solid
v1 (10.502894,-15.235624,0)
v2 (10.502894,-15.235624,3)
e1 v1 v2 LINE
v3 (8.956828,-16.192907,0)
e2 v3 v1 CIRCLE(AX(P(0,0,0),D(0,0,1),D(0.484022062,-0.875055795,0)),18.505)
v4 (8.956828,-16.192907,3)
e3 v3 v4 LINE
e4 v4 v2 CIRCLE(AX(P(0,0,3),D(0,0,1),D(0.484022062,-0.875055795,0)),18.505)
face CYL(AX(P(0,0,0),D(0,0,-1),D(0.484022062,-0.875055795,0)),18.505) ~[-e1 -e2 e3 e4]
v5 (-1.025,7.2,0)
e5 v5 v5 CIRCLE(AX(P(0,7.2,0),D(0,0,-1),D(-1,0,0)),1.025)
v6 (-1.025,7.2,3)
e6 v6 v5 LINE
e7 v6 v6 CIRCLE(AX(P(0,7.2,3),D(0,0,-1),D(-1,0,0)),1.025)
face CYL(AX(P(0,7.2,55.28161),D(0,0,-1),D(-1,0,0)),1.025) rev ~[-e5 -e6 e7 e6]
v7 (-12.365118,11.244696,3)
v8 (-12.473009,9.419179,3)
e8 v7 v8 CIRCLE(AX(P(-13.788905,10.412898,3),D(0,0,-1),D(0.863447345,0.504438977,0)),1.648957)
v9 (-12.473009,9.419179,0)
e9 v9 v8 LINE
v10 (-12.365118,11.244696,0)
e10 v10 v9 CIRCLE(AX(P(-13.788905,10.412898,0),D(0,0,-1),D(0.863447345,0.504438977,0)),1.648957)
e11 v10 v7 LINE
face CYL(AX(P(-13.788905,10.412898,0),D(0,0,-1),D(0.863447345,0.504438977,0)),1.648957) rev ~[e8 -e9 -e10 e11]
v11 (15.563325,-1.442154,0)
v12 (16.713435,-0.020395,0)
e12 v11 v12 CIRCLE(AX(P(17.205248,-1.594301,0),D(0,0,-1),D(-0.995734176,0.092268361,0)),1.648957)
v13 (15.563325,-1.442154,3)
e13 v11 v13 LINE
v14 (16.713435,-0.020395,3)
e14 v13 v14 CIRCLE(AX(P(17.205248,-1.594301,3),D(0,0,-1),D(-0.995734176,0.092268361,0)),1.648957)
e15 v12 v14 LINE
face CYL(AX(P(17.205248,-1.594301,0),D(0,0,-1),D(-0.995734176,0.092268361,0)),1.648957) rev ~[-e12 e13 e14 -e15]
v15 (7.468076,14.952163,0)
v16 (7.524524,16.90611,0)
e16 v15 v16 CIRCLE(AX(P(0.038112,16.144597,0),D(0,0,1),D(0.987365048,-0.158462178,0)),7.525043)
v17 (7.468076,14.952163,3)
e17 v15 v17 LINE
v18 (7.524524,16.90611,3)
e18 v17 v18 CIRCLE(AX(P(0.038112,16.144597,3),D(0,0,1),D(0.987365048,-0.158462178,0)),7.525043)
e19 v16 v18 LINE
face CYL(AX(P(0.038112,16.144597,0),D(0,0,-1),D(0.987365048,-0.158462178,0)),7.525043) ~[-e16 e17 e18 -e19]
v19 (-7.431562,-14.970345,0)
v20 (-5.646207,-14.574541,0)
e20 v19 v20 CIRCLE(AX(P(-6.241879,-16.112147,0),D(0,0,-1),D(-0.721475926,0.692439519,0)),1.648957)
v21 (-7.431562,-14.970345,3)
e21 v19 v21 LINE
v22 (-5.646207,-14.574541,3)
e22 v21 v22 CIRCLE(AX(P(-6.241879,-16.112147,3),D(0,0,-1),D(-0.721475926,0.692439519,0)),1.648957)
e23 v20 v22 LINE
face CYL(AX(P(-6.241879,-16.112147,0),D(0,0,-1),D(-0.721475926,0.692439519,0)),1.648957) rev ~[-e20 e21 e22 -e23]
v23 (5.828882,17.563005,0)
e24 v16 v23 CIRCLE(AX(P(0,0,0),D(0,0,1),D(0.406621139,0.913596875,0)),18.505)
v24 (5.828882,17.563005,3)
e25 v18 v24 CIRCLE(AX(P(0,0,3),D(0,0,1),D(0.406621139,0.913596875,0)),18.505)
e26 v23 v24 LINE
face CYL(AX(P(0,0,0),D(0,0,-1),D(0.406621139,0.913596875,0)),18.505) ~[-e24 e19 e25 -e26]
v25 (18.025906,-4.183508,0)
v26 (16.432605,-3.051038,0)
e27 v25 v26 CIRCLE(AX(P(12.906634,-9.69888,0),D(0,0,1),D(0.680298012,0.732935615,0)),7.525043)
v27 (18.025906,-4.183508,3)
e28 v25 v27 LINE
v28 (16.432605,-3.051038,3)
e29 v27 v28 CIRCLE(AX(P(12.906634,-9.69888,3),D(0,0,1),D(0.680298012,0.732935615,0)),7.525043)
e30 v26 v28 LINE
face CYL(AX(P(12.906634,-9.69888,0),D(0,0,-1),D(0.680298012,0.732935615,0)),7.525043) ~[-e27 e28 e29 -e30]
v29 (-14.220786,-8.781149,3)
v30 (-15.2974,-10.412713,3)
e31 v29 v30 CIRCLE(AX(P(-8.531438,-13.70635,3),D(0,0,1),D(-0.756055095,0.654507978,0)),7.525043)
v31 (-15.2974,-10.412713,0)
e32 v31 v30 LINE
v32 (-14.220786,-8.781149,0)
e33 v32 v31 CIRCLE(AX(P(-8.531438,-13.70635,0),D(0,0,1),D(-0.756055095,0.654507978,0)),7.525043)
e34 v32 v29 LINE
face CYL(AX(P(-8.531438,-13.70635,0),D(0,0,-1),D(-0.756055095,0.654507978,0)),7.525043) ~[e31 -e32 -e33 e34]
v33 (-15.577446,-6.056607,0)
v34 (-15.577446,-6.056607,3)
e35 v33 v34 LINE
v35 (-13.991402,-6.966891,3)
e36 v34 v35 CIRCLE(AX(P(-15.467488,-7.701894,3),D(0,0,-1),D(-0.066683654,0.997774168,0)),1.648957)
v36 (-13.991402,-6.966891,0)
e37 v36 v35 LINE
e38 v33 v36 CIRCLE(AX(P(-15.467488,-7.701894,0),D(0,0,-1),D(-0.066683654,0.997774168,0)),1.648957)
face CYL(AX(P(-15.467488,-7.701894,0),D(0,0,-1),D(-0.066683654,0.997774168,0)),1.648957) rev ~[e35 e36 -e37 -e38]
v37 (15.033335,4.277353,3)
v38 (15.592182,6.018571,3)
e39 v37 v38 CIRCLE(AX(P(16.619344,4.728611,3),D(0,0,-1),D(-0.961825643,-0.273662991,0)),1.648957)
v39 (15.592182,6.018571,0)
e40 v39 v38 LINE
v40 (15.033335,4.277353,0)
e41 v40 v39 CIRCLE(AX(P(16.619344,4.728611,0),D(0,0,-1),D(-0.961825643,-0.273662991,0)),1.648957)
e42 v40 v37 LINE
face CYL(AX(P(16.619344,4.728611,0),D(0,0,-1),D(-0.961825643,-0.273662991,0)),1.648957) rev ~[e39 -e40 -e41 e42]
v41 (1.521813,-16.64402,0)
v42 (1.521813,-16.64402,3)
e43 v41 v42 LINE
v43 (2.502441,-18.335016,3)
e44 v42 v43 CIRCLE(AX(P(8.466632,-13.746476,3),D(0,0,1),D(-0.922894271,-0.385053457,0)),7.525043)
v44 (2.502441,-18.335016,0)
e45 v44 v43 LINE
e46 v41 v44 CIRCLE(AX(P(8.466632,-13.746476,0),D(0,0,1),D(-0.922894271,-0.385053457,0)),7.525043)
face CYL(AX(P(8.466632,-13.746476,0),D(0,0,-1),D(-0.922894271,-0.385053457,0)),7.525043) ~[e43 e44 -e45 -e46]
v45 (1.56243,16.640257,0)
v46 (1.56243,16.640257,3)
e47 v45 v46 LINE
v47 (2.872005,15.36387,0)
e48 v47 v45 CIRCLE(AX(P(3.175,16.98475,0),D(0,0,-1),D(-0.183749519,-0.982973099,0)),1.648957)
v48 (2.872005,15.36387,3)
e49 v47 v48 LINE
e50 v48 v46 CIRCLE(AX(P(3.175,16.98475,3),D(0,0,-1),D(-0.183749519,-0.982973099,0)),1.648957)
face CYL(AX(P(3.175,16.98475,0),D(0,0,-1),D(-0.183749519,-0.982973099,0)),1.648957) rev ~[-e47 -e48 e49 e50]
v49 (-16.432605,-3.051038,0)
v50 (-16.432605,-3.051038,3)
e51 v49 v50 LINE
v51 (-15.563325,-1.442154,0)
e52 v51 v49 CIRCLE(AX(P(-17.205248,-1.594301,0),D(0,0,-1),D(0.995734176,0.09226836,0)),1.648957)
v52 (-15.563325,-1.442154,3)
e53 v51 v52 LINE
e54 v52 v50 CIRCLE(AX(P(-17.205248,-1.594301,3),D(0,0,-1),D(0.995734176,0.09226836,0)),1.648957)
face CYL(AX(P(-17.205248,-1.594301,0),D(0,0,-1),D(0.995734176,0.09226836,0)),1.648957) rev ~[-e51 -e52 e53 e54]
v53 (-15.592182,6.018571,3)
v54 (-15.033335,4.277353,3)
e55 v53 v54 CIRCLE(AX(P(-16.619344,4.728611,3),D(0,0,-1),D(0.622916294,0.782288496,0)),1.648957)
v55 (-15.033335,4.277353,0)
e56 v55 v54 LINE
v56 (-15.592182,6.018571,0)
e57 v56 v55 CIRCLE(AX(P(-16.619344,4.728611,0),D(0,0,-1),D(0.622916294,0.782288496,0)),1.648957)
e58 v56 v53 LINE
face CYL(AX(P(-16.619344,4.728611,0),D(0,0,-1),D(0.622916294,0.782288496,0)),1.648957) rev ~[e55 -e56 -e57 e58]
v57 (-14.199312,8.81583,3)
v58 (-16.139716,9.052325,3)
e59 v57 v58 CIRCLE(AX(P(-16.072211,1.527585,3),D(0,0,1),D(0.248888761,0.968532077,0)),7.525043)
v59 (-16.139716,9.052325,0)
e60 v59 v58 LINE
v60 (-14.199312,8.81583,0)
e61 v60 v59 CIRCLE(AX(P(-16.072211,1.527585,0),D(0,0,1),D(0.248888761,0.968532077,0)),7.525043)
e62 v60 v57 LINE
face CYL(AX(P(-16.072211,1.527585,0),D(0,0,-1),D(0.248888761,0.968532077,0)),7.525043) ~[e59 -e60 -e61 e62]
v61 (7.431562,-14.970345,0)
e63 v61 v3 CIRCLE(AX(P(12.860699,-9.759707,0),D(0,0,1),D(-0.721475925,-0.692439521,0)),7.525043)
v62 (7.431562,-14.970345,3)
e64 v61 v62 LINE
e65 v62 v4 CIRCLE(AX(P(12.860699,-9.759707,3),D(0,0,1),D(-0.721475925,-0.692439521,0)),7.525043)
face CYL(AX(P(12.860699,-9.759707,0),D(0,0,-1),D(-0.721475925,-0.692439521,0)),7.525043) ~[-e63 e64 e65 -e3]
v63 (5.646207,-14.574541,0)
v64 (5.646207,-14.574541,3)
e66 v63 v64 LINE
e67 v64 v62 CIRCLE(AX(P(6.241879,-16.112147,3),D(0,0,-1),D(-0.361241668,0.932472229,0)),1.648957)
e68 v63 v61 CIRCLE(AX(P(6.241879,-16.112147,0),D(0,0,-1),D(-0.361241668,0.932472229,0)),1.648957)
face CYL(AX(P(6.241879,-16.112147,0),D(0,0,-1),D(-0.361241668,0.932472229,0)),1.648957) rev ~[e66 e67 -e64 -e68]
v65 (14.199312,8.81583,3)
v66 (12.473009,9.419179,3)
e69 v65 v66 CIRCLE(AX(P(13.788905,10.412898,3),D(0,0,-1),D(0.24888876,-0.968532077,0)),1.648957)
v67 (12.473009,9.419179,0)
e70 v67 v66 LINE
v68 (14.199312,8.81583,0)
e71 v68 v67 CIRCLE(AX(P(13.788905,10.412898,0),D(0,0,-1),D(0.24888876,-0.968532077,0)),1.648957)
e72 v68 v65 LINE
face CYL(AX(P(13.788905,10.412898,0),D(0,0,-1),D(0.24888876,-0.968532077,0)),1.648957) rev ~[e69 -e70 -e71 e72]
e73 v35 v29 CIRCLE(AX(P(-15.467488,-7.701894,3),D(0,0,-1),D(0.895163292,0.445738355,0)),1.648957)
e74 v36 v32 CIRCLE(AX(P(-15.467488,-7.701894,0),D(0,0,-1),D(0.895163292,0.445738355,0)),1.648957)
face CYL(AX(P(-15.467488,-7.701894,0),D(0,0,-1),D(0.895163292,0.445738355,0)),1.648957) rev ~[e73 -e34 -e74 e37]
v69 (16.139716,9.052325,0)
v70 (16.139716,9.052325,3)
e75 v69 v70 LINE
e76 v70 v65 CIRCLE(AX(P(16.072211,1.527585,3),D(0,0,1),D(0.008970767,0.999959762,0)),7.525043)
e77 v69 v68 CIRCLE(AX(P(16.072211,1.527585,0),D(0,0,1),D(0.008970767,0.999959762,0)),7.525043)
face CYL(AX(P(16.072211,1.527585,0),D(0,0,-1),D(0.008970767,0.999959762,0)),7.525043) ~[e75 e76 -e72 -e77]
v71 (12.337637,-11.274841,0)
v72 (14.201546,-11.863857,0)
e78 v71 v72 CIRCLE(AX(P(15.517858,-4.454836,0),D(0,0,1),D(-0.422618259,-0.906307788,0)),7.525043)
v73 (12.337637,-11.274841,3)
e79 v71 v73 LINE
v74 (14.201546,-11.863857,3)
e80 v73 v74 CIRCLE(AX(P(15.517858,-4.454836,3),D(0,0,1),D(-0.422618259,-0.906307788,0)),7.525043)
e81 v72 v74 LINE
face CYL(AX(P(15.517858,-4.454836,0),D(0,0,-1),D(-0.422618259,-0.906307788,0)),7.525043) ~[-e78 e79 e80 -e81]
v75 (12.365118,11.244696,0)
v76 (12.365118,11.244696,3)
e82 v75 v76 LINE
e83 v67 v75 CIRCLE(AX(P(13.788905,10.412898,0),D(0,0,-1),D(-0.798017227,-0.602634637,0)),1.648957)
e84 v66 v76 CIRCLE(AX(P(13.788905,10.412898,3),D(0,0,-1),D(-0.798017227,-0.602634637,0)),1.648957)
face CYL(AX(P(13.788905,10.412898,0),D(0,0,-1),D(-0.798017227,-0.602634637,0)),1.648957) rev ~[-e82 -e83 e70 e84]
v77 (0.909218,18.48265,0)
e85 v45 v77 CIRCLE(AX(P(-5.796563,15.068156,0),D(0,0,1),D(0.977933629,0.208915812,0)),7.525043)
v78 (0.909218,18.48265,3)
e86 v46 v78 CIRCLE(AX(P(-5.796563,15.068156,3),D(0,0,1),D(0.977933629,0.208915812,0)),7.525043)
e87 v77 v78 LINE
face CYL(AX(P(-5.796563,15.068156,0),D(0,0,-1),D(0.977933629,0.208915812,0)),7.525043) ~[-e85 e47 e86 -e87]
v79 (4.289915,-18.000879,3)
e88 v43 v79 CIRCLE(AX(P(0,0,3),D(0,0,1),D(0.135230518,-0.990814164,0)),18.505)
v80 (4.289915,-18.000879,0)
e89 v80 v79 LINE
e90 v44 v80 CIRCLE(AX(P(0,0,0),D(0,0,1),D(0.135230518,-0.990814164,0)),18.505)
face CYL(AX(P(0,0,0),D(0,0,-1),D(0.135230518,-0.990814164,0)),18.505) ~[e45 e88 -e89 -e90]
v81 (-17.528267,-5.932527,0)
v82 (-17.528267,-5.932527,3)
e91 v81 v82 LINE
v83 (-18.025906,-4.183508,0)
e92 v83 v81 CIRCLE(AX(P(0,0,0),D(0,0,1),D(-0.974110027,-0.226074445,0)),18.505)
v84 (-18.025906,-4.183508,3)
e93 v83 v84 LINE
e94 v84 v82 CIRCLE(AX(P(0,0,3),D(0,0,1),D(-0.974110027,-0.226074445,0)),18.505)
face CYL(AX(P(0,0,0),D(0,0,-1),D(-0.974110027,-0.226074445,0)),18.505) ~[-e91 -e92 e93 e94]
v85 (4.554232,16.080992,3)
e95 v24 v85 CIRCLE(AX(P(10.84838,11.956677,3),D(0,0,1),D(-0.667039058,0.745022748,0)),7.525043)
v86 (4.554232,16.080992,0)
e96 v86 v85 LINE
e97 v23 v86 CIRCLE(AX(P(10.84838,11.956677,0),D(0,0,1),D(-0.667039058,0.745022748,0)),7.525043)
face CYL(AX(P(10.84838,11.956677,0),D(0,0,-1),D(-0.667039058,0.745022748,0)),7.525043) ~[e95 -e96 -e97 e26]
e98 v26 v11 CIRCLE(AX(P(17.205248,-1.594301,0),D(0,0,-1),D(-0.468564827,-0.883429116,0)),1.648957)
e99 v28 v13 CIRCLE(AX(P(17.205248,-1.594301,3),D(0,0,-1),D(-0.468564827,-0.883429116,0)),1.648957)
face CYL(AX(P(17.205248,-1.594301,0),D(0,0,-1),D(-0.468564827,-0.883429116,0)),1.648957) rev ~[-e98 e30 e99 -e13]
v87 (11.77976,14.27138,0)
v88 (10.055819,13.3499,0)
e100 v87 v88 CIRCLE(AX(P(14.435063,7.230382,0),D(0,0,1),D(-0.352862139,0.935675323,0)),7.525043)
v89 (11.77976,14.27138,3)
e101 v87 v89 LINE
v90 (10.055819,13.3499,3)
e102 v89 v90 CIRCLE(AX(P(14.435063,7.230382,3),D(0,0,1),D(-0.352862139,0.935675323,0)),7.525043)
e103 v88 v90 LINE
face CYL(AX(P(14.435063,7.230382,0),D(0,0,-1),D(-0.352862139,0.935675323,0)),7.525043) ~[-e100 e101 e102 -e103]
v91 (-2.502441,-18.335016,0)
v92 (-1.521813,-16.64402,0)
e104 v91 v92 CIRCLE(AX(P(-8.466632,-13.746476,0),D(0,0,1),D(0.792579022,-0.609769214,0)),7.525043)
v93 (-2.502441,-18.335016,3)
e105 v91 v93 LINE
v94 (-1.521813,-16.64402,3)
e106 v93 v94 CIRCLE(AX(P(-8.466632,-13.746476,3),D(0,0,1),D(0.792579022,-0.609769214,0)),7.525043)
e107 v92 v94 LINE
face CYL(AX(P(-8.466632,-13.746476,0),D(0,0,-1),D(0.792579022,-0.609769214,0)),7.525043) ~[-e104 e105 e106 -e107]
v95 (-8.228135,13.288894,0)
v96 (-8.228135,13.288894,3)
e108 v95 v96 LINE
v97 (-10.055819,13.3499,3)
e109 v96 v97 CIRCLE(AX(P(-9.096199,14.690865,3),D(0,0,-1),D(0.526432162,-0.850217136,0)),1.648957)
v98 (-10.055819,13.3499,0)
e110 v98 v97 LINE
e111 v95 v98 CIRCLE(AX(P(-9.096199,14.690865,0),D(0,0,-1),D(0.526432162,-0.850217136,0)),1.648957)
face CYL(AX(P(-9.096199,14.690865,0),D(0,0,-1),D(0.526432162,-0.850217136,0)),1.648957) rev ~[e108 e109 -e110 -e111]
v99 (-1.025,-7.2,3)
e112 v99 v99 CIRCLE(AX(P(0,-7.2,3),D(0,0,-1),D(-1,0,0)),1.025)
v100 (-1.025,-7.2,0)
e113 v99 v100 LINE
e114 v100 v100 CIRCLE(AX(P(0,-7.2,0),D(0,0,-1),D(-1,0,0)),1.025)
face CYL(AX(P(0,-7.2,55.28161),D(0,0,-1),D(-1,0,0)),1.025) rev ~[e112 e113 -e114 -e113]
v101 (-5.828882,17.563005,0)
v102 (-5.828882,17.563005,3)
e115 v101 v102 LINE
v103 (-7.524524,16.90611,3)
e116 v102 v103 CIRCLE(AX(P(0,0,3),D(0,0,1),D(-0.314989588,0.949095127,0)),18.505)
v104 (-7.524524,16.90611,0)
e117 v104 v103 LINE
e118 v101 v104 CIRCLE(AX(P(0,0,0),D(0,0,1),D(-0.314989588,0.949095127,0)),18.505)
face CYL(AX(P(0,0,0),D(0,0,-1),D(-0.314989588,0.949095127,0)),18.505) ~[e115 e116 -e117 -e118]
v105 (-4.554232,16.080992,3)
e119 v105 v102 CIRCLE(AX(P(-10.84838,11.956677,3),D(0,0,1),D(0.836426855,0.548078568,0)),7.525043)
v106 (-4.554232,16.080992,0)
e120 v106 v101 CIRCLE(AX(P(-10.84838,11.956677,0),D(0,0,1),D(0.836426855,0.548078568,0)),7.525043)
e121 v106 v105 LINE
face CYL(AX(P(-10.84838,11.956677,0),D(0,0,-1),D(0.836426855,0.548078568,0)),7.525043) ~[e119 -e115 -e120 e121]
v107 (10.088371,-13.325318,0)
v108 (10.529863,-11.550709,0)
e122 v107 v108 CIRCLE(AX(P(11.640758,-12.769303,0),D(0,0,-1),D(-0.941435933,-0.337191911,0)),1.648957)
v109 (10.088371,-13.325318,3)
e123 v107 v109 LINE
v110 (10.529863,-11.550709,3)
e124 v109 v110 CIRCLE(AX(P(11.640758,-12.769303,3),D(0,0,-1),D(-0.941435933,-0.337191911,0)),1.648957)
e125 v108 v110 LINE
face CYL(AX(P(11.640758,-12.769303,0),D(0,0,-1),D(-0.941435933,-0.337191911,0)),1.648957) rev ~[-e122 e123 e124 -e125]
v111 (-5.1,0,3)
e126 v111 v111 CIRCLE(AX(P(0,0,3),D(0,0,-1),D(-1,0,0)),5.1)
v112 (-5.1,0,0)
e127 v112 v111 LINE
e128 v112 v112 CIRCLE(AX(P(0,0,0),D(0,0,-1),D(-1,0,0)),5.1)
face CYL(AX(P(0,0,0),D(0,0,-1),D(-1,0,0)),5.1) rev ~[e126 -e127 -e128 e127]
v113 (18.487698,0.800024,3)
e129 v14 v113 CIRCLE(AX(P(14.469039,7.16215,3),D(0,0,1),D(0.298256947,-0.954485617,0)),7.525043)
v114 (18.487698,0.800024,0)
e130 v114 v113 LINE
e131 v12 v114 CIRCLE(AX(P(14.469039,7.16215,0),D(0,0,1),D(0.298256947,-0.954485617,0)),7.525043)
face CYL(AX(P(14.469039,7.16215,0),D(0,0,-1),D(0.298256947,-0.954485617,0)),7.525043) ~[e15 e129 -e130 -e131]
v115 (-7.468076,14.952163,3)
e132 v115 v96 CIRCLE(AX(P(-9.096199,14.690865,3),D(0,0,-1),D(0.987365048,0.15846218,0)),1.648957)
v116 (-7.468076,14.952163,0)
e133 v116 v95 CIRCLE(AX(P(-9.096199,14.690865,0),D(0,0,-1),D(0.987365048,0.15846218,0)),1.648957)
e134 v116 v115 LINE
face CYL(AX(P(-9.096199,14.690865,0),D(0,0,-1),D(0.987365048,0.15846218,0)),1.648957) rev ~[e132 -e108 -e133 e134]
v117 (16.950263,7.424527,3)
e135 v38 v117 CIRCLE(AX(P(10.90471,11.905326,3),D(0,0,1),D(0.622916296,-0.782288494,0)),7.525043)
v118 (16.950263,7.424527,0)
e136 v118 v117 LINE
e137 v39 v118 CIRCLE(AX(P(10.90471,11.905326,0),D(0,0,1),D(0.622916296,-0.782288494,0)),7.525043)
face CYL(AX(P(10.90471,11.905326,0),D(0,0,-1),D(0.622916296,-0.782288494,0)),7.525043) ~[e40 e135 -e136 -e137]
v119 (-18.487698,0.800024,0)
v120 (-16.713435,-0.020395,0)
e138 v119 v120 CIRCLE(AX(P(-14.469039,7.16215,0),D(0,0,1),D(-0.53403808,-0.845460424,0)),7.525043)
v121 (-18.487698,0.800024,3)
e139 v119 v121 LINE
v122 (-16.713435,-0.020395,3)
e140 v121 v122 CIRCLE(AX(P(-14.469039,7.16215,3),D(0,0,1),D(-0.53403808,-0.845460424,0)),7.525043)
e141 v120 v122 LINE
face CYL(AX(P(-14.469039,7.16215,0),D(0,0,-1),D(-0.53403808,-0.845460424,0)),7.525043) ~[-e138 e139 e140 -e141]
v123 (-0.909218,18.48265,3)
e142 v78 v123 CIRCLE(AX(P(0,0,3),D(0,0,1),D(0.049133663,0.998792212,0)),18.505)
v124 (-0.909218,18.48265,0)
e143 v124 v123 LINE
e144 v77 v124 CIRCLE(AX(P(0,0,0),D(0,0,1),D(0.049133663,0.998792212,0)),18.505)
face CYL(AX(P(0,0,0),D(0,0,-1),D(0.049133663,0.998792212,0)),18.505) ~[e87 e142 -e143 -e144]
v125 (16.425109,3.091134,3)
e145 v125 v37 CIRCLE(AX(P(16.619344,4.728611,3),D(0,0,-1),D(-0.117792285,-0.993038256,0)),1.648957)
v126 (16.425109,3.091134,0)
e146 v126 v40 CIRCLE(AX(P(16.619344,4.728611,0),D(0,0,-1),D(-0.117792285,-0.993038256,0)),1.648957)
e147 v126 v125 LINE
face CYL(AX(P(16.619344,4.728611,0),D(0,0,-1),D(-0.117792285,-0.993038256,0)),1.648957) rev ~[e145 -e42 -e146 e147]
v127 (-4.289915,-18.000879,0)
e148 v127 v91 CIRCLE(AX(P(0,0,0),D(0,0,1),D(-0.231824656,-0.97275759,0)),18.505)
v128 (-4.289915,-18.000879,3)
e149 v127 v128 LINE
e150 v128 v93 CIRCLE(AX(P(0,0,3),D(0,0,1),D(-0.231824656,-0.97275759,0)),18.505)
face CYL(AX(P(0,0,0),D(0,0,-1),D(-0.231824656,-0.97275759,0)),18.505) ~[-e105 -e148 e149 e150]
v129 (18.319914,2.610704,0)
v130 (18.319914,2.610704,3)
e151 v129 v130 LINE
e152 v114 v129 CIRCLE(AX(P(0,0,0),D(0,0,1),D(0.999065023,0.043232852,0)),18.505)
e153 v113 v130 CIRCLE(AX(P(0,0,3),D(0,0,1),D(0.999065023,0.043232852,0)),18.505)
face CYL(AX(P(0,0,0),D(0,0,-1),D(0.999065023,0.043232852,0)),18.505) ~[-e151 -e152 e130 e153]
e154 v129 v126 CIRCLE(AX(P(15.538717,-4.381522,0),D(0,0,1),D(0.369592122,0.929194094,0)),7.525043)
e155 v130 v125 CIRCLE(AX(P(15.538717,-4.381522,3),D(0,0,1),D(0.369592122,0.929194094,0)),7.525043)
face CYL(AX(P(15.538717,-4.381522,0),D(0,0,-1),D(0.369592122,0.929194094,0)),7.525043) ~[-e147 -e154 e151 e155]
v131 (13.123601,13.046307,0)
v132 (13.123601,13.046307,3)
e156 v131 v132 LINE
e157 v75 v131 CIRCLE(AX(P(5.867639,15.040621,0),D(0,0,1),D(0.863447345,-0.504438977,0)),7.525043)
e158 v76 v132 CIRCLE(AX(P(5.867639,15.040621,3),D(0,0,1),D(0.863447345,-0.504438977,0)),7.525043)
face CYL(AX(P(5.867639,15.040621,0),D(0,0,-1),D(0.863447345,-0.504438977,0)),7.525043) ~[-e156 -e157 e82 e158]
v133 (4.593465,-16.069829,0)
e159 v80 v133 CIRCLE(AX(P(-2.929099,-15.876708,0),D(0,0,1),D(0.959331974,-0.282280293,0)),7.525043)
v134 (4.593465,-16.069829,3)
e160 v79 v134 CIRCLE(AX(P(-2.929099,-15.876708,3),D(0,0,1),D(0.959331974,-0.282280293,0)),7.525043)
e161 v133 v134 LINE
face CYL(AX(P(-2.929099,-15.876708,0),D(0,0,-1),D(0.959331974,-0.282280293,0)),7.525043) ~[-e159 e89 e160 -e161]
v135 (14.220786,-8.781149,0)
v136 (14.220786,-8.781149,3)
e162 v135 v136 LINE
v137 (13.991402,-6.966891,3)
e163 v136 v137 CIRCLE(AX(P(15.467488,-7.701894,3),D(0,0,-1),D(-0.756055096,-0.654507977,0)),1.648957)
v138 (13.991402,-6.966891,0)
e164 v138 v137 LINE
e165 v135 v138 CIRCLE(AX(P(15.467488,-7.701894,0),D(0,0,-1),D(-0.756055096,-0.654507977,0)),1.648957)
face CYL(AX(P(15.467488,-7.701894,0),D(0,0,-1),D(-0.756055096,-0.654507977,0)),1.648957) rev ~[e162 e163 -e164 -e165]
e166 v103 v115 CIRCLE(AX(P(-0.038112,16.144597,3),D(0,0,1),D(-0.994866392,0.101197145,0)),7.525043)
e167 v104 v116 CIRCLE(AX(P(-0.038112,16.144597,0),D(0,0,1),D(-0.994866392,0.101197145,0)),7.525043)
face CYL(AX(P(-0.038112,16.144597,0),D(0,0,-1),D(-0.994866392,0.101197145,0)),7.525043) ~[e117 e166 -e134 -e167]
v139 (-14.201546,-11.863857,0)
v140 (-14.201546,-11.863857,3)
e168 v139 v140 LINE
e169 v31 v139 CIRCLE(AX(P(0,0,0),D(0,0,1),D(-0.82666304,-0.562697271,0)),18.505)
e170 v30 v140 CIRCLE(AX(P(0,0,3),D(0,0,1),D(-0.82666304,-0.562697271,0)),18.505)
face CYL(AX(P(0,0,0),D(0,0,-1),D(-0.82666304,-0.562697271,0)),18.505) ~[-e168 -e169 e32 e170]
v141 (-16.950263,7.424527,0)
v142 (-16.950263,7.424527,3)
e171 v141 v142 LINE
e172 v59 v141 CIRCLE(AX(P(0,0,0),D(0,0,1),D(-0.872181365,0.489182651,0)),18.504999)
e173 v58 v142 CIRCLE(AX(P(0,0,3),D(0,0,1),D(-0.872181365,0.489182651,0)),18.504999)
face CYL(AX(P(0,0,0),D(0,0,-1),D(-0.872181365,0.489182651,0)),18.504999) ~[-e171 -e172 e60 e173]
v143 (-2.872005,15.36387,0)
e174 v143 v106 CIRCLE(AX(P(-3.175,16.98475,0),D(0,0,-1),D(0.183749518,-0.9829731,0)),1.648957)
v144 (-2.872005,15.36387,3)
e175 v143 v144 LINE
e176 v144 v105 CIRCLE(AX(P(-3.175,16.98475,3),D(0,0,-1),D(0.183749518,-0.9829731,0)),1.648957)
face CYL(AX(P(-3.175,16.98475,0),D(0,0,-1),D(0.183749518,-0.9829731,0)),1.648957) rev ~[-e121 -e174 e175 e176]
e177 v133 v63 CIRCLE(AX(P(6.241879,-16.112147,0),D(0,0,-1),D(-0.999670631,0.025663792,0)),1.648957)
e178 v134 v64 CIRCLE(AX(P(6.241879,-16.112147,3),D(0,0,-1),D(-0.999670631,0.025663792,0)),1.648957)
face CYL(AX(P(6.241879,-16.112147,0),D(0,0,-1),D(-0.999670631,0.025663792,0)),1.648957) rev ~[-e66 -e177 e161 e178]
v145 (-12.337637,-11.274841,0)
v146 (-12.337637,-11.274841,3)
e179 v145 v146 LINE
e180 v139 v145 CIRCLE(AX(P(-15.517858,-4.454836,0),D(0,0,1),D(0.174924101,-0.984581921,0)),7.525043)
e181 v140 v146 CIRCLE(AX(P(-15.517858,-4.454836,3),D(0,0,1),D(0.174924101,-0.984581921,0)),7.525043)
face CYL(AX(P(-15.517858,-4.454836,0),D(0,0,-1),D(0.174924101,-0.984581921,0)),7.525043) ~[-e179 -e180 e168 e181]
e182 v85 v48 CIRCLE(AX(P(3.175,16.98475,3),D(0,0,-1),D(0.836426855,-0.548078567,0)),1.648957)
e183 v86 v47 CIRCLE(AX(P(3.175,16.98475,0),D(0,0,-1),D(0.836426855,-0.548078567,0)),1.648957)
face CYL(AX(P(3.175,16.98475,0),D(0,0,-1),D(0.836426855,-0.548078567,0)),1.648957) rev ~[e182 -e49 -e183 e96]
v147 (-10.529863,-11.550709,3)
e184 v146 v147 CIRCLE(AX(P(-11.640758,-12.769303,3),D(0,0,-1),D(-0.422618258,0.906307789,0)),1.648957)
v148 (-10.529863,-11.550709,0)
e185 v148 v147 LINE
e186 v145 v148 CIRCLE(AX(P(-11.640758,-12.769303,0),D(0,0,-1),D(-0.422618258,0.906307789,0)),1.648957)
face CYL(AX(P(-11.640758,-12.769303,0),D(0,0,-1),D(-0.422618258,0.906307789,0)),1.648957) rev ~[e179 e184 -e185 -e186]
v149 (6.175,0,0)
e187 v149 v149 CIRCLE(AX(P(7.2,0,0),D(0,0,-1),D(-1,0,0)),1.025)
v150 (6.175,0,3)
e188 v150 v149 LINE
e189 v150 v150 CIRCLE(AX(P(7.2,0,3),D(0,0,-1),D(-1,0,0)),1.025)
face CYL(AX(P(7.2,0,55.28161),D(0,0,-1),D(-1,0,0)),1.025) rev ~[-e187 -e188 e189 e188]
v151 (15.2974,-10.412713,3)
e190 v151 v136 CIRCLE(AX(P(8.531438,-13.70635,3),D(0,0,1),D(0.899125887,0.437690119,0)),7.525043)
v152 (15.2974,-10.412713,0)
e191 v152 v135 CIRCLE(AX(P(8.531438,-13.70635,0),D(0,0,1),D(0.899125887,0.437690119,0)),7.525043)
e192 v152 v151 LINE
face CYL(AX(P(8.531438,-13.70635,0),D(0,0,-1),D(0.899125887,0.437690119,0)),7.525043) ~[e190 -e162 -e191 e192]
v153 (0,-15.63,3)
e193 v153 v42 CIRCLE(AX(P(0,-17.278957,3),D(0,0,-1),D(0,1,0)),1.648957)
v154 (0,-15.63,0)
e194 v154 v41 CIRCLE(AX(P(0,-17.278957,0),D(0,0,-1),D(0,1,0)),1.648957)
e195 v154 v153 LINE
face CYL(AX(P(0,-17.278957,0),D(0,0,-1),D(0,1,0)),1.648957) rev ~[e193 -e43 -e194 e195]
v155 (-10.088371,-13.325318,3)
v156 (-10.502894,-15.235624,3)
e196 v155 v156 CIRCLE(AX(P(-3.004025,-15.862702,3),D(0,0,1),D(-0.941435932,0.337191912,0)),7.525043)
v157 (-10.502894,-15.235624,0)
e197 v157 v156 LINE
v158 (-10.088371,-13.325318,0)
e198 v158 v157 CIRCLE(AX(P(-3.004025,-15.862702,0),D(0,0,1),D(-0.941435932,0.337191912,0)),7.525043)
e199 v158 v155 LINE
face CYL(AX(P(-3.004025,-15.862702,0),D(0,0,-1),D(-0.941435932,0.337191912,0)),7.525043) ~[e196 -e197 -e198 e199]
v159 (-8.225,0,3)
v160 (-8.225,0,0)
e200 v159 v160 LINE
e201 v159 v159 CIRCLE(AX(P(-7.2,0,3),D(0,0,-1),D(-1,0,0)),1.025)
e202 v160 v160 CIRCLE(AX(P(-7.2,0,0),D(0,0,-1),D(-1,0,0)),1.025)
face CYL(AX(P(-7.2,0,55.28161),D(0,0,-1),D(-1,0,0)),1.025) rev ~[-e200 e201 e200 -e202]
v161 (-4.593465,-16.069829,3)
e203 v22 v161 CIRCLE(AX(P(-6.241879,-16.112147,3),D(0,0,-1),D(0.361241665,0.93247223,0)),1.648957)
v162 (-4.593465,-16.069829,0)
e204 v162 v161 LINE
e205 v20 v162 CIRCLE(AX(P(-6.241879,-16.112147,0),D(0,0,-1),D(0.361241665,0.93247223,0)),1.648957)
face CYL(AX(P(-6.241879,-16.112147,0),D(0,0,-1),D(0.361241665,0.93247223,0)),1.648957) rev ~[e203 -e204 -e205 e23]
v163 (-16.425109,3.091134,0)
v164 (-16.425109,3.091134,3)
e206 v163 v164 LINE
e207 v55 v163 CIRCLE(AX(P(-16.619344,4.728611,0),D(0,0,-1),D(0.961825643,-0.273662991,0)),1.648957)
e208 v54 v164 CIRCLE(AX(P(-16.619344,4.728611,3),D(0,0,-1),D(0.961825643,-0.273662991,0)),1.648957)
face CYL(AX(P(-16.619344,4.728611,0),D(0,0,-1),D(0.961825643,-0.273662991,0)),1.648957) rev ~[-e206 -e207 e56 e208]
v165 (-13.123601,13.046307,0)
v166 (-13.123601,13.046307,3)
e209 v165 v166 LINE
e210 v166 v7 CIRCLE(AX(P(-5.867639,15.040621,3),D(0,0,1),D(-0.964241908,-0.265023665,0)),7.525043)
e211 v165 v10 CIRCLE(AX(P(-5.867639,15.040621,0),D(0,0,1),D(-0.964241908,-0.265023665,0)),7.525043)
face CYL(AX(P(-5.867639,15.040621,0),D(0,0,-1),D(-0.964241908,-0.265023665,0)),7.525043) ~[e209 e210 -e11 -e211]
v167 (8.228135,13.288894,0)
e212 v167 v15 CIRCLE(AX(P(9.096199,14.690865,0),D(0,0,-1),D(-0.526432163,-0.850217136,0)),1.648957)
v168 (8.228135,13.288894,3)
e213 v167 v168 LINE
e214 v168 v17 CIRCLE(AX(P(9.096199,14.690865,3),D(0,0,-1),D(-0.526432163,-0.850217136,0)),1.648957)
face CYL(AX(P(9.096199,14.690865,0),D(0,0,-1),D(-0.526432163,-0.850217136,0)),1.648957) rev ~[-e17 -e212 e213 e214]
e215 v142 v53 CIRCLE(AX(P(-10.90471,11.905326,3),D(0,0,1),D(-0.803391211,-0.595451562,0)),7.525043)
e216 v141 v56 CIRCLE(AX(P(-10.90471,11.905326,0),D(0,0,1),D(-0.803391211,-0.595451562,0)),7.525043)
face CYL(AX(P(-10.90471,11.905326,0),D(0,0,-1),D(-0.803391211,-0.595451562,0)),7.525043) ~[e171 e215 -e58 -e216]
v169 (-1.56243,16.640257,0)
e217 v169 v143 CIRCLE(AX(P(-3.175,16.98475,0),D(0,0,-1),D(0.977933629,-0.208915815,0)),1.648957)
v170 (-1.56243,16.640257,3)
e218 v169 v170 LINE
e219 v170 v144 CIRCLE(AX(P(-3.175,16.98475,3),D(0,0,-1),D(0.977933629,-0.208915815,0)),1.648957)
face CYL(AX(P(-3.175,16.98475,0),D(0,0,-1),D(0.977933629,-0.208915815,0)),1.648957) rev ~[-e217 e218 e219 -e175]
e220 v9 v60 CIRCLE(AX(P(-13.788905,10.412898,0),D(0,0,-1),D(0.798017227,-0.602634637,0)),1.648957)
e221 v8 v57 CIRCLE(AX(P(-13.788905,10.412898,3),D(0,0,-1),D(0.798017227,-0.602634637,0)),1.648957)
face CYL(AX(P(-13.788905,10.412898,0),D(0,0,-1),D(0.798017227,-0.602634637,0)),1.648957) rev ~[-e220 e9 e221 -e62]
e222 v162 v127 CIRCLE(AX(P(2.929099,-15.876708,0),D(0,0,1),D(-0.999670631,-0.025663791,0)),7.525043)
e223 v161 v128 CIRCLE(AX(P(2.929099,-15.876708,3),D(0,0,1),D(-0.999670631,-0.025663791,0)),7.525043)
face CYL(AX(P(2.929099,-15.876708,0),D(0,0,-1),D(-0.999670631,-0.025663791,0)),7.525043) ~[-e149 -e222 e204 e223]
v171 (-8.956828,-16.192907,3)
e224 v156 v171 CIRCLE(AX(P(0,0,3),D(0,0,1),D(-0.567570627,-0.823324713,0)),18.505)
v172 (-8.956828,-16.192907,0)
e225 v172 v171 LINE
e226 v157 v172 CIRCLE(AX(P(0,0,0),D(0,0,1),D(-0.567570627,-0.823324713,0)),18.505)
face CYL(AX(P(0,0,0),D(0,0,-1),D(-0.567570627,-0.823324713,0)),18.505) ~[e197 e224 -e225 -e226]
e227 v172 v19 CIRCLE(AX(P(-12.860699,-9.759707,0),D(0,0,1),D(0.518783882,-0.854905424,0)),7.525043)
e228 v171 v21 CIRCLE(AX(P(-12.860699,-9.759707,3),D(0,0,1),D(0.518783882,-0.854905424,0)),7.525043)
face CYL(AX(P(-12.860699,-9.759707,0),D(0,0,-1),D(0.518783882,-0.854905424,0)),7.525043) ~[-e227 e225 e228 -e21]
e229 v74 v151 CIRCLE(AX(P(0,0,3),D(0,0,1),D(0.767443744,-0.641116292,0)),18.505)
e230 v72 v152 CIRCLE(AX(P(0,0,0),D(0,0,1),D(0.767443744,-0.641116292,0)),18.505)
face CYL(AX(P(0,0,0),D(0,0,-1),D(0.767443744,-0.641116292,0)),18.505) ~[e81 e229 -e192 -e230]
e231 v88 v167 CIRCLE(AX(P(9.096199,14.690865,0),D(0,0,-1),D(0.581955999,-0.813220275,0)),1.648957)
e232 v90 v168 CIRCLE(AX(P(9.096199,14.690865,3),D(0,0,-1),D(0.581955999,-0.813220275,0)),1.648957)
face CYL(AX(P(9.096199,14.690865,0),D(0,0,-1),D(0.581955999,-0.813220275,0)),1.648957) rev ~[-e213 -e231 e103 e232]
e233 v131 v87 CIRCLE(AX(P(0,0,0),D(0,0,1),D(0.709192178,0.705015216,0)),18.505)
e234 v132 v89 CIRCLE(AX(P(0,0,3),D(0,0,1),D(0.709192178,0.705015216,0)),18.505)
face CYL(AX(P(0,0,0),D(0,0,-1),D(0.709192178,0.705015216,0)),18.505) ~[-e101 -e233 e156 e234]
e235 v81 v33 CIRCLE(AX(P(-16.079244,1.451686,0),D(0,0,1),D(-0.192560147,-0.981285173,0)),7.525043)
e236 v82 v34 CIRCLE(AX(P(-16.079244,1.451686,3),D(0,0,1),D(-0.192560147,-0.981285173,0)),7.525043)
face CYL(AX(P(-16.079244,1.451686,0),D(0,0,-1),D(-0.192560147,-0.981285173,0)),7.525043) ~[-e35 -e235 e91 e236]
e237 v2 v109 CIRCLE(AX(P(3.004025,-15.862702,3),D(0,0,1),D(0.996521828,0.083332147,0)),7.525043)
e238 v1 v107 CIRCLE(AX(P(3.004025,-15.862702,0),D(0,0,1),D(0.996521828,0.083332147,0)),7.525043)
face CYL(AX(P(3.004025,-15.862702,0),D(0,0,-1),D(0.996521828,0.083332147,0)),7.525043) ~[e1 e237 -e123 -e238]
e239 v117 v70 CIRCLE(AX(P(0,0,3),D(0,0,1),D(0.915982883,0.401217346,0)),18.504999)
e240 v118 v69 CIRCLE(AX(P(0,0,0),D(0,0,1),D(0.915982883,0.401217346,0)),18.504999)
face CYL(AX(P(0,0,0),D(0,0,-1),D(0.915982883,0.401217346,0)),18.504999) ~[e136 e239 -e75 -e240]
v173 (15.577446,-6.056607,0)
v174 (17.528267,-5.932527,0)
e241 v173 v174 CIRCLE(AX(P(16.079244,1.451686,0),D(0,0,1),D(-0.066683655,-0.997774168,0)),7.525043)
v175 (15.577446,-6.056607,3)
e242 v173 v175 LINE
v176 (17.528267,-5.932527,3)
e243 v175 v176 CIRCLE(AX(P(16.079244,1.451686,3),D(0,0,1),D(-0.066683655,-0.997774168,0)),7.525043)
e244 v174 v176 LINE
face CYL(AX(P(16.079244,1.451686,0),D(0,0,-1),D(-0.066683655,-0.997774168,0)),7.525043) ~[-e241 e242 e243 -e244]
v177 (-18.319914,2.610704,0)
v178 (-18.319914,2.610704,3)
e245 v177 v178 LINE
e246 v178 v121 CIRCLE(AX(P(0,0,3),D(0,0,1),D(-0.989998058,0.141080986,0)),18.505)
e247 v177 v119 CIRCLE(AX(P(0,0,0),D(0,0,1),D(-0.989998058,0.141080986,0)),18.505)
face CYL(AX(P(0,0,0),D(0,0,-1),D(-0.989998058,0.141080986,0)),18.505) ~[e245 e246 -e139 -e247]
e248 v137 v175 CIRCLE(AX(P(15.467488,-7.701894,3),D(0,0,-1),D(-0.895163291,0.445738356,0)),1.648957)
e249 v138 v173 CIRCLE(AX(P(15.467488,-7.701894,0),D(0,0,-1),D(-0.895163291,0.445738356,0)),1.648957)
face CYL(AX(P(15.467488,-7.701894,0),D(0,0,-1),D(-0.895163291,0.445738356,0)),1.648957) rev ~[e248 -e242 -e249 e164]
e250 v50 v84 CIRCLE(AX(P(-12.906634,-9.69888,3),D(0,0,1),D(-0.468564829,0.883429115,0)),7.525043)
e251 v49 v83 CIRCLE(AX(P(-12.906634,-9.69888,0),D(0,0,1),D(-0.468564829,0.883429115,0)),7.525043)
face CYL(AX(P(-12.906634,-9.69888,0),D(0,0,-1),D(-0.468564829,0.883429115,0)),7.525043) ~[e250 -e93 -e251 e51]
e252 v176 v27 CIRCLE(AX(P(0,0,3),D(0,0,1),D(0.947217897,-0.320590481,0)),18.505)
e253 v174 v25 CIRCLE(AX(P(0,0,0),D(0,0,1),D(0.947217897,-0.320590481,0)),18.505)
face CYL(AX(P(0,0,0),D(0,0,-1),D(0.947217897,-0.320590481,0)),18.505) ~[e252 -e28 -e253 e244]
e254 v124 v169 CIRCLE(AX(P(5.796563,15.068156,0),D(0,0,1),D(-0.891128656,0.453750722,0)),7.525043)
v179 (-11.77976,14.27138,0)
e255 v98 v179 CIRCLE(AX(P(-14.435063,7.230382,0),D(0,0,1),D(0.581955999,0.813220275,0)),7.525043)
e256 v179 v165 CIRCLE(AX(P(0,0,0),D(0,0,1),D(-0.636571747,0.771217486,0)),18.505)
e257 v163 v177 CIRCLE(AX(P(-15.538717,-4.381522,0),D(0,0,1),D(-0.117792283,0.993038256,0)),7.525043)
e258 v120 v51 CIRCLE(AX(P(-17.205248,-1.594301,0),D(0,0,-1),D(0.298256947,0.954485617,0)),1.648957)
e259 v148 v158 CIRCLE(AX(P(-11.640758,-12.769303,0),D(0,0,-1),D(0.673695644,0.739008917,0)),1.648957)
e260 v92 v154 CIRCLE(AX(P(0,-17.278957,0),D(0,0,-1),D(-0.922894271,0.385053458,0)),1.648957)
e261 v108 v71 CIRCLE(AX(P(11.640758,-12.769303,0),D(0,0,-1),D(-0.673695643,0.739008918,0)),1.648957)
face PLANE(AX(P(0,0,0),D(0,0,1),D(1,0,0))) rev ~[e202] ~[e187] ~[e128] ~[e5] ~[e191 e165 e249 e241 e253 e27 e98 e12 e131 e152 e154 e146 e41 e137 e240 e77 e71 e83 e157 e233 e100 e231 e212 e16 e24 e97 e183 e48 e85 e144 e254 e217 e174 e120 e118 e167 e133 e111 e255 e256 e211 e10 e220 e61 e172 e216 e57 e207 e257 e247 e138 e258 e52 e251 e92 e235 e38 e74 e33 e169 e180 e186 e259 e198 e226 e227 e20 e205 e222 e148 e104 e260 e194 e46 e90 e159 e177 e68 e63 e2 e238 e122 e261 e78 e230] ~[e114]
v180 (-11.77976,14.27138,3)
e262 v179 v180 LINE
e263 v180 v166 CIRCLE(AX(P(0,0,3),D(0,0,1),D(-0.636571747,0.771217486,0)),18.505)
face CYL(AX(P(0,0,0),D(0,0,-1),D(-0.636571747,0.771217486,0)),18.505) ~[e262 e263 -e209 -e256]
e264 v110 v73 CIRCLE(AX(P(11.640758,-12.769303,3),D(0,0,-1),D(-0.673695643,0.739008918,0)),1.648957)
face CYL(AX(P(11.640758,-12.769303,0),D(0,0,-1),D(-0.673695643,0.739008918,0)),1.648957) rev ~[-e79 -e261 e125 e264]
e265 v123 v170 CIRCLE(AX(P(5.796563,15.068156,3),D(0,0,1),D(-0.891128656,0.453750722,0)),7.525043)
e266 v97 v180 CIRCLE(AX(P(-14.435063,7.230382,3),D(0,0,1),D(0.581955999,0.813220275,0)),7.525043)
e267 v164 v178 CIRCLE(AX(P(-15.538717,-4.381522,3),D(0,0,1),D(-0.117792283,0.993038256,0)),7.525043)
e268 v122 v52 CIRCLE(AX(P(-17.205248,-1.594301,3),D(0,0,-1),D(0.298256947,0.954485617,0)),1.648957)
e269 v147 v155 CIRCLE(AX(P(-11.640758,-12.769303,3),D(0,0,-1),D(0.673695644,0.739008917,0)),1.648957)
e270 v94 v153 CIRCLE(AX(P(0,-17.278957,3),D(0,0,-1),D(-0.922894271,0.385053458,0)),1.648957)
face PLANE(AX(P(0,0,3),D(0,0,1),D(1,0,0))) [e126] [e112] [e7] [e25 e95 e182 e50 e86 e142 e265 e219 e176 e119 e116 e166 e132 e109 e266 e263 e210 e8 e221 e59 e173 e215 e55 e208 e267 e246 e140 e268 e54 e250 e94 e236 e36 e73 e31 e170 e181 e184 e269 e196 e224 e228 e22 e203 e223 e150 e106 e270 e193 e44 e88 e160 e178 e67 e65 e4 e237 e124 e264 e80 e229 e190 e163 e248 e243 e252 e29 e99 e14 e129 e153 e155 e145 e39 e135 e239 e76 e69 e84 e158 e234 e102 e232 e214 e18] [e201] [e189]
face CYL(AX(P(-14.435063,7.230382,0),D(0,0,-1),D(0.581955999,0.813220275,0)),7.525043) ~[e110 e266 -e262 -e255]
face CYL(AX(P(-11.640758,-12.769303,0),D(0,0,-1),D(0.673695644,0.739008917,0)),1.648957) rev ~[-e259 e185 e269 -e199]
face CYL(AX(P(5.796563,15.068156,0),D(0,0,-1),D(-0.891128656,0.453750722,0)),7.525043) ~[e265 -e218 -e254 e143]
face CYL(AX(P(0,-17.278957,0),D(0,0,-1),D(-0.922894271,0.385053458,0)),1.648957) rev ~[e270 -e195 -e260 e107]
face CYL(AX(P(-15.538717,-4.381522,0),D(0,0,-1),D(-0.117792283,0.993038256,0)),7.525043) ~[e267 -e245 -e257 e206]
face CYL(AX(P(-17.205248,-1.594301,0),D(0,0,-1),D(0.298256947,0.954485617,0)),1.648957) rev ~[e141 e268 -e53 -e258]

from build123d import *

# Parameters (mm, degrees)
EXTRUDE_2_DEPTH      = 3
HOLE_WIZARD_M2_5_1_D = 2.05
SKETCH_4_R           = 5.1
CUT_EXTRUDE_1_DEPTH  = 10


with BuildPart() as part:
    # 草图1 → 凸台-拉伸2 (new body)
    with BuildSketch(Plane.XY):
        with BuildLine():
            ThreePointArc((-11.779760181, 14.271379579), (-12.466737886, 13.675360013), (-13.123601243, 13.046306581))
            ThreePointArc((-13.123601243, 13.046306581), (-12.803108373, 12.120767872), (-12.365117817, 11.24469604))
            ThreePointArc((-12.365117817, 11.24469604), (-12.142820781, 10.31561124), (-12.473009262, 9.419179367))
            ThreePointArc((-12.473009262, 9.419179367), (-13.244860059, 8.856275392), (-14.199312115, 8.815830257))
            ThreePointArc((-14.199312115, 8.815830257), (-15.161802274, 8.997352368), (-16.139716175, 9.052324938))
            ThreePointArc((-16.139716175, 9.052324938), (-16.564996707, 8.248388274), (-16.950263236, 7.424527004))
            ThreePointArc((-16.950263236, 7.424527004), (-16.317069389, 6.677263239), (-15.592181711, 6.018571022))
            ThreePointArc((-15.592181711, 6.018571022), (-15.049271757, 5.2325282), (-15.033334803, 4.277352535))
            ThreePointArc((-15.033334803, 4.277352535), (-15.549719866, 3.473635543), (-16.425109435, 3.091133726))
            ThreePointArc((-16.425109435, 3.091133726), (-17.388178129, 2.912706505), (-18.319914067, 2.610703653))
            ThreePointArc((-18.319914067, 2.610703653), (-18.426060932, 1.707425992), (-18.487698254, 0.800023914))
            ThreePointArc((-18.487698254, 0.800023914), (-17.627319769, 0.331957205), (-16.713435066, -0.020395362))
            ThreePointArc((-16.713435066, -0.020395362), (-15.923235192, -0.557236769), (-15.563325175, -1.442154458))
            ThreePointArc((-15.563325175, -1.442154458), (-15.754503841, -2.378138035), (-16.432604711, -3.051037542))
            ThreePointArc((-16.432604711, -3.051037542), (-17.266184176, -3.565316511), (-18.02590605, -4.183507626))
            ThreePointArc((-18.02590605, -4.183507626), (-17.798583527, -5.064133631), (-17.528267179, -5.932526839))
            ThreePointArc((-17.528267179, -5.932526839), (-16.556902937, -6.058181489), (-15.577446402, -6.056607239))
            ThreePointArc((-15.577446402, -6.056607239), (-14.64667748, -6.271743824), (-13.991402244, -6.966890501))
            ThreePointArc((-13.991402244, -6.966890501), (-13.831554774, -7.908730892), (-14.220785664, -8.781149285))
            ThreePointArc((-14.220785664, -8.781149285), (-14.812296375, -9.561823776), (-15.297399536, -10.412713019))
            ThreePointArc((-15.297399536, -10.412713019), (-14.767308791, -11.151753946), (-14.201546494, -11.863856968))
            ThreePointArc((-14.201546494, -11.863856968), (-13.250384619, -11.630129203), (-12.337637284, -11.274840748))
            ThreePointArc((-12.337637284, -11.274840748), (-11.392004814, -11.139217123), (-10.52986291, -11.550709376))
            ThreePointArc((-10.52986291, -11.550709376), (-10.040577591, -12.371205819), (-10.088370713, -13.325318158))
            ThreePointArc((-10.088370713, -13.325318158), (-10.357925871, -14.266953756), (-10.502894449, -15.23562382))
            ThreePointArc((-10.502894449, -15.23562382), (-9.741627174, -15.733268097), (-8.956828262, -16.192907475))
            ThreePointArc((-8.956828262, -16.192907475), (-8.154328435, -15.631363523), (-7.431561886, -14.970344538))
            ThreePointArc((-7.431561886, -14.970344538), (-6.598778773, -14.502277424), (-5.646207243, -14.574540946))
            ThreePointArc((-5.646207243, -14.574540946), (-4.893564768, -15.162880849), (-4.593465396, -16.069828976))
            ThreePointArc((-4.593465396, -16.069828976), (-4.504660083, -17.045252575), (-4.289915268, -18.000879201))
            ThreePointArc((-4.289915268, -18.000879201), (-3.400284827, -18.18991721), (-2.502440741, -18.335016099))
            ThreePointArc((-2.502440741, -18.335016099), (-1.956985011, -17.521495584), (-1.521812876, -16.644020345))
            ThreePointArc((-1.521812876, -16.644020345), (-0.914351093, -15.9067248), (0, -15.63))
            ThreePointArc((0, -15.63), (0.914351093, -15.9067248), (1.521812876, -16.644020345))
            ThreePointArc((1.521812876, -16.644020345), (1.956985011, -17.521495584), (2.502440741, -18.335016099))
            ThreePointArc((2.502440741, -18.335016099), (3.400284827, -18.18991721), (4.289915268, -18.000879201))
            ThreePointArc((4.289915268, -18.000879201), (4.504660083, -17.045252575), (4.593465396, -16.069828976))
            ThreePointArc((4.593465396, -16.069828976), (4.893564768, -15.162880849), (5.646207243, -14.574540946))
            ThreePointArc((5.646207243, -14.574540946), (6.598778773, -14.502277424), (7.431561886, -14.970344538))
            ThreePointArc((7.431561886, -14.970344538), (8.154328435, -15.631363523), (8.956828262, -16.192907475))
            ThreePointArc((8.956828262, -16.192907475), (9.741627174, -15.733268097), (10.502894449, -15.23562382))
            ThreePointArc((10.502894449, -15.23562382), (10.357925871, -14.266953756), (10.088370713, -13.325318158))
            ThreePointArc((10.088370713, -13.325318158), (10.040577591, -12.371205819), (10.52986291, -11.550709376))
            ThreePointArc((10.52986291, -11.550709376), (11.392004814, -11.139217123), (12.337637284, -11.274840748))
            ThreePointArc((12.337637284, -11.274840748), (13.250384619, -11.630129203), (14.201546494, -11.863856968))
            ThreePointArc((14.201546494, -11.863856968), (14.767308791, -11.151753946), (15.297399536, -10.412713019))
            ThreePointArc((15.297399536, -10.412713019), (14.812296375, -9.561823776), (14.220785664, -8.781149285))
            ThreePointArc((14.220785664, -8.781149285), (13.831554774, -7.908730892), (13.991402244, -6.966890501))
            ThreePointArc((13.991402244, -6.966890501), (14.64667748, -6.271743824), (15.577446402, -6.056607239))
            ThreePointArc((15.577446402, -6.056607239), (16.556902937, -6.058181489), (17.528267179, -5.932526839))
            ThreePointArc((17.528267179, -5.932526839), (17.798583527, -5.064133631), (18.02590605, -4.183507626))
            ThreePointArc((18.02590605, -4.183507626), (17.266184176, -3.565316511), (16.432604711, -3.051037542))
            ThreePointArc((16.432604711, -3.051037542), (15.754503841, -2.378138035), (15.563325175, -1.442154458))
            ThreePointArc((15.563325175, -1.442154458), (15.923235192, -0.557236769), (16.713435066, -0.020395362))
            ThreePointArc((16.713435066, -0.020395362), (17.627319769, 0.331957205), (18.487698254, 0.800023914))
            ThreePointArc((18.487698254, 0.800023914), (18.426060932, 1.707425992), (18.319914067, 2.610703653))
            ThreePointArc((18.319914067, 2.610703653), (17.388178129, 2.912706505), (16.425109435, 3.091133726))
            ThreePointArc((16.425109435, 3.091133726), (15.549719866, 3.473635543), (15.033334803, 4.277352535))
            ThreePointArc((15.033334803, 4.277352535), (15.049271757, 5.2325282), (15.592181711, 6.018571022))
            ThreePointArc((15.592181711, 6.018571022), (16.317069389, 6.677263239), (16.950263236, 7.424527004))
            ThreePointArc((16.950263236, 7.424527004), (16.564996707, 8.248388274), (16.139716175, 9.052324938))
            ThreePointArc((16.139716175, 9.052324938), (15.161802274, 8.997352368), (14.199312115, 8.815830257))
            ThreePointArc((14.199312115, 8.815830257), (13.244860059, 8.856275392), (12.473009262, 9.419179367))
            ThreePointArc((12.473009262, 9.419179367), (12.142820781, 10.31561124), (12.365117817, 11.24469604))
            ThreePointArc((12.365117817, 11.24469604), (12.803108373, 12.120767872), (13.123601243, 13.046306581))
            ThreePointArc((13.123601243, 13.046306581), (12.466737886, 13.675360013), (11.779760181, 14.271379579))
            ThreePointArc((11.779760181, 14.271379579), (10.887741008, 13.866855937), (10.055819013, 13.349900061))
            ThreePointArc((10.055819013, 13.349900061), (9.151208508, 13.042826175), (8.228134706, 13.288893831))
            ThreePointArc((8.228134706, 13.288893831), (7.596414573, 14.005513822), (7.468076245, 14.952162548))
            ThreePointArc((7.468076245, 14.952162548), (7.560016626, 15.927295641), (7.524524182, 16.906110163))
            ThreePointArc((7.524524182, 16.906110163), (6.684777033, 17.255398605), (5.8288823, 17.563005328))
            ThreePointArc((5.8288823, 17.563005328), (5.143229987, 16.863563773), (4.554231832, 16.080991887))
            ThreePointArc((4.554231832, 16.080991887), (3.821635541, 15.46787101), (2.872004963, 15.363869548))
            ThreePointArc((2.872004963, 15.363869548), (2.024070484, 15.803894155), (1.562429593, 16.640256651))
            ThreePointArc((1.562429593, 16.640256651), (1.295902743, 17.582753877), (0.909218435, 18.482649887))
            ThreePointArc((0.909218435, 18.482649887), (0, 18.505), (-0.909218435, 18.482649887))
            ThreePointArc((-0.909218435, 18.482649887), (-1.295902743, 17.582753877), (-1.562429593, 16.640256651))
            ThreePointArc((-1.562429593, 16.640256651), (-2.024070484, 15.803894155), (-2.872004963, 15.363869548))
            ThreePointArc((-2.872004963, 15.363869548), (-3.821635541, 15.46787101), (-4.554231832, 16.080991887))
            ThreePointArc((-4.554231832, 16.080991887), (-5.143229987, 16.863563773), (-5.8288823, 17.563005328))
            ThreePointArc((-5.8288823, 17.563005328), (-6.684777033, 17.255398605), (-7.524524182, 16.906110163))
            ThreePointArc((-7.524524182, 16.906110163), (-7.560016626, 15.927295641), (-7.468076245, 14.952162548))
            ThreePointArc((-7.468076245, 14.952162548), (-7.596414573, 14.005513822), (-8.228134706, 13.288893831))
            ThreePointArc((-8.228134706, 13.288893831), (-9.151208508, 13.042826175), (-10.055819013, 13.349900061))
            ThreePointArc((-10.055819013, 13.349900061), (-10.887741008, 13.866855937), (-11.779760181, 14.271379579))
        make_face()
    extrude(amount=EXTRUDE_2_DEPTH)

    # M2.5 螺纹孔1 (through all)
    with Locations(Plane(origin=(0, 7.2, 3), x_dir=(1, 0, 0), z_dir=(0, 0, 1))):
        with Locations((0, 0), (7.2, -7.2), (0, -14.4), (-7.2, -7.2)):
            Hole(HOLE_WIZARD_M2_5_1_D / 2)

    # 草图4 → 切除-拉伸1 (cut)
    with BuildSketch(Plane(origin=(0, 0, 0), x_dir=(-1, 0, 0), z_dir=(0, 0, -1))):
        Circle(SKETCH_4_R)
    extrude(amount=-CUT_EXTRUDE_1_DEPTH, mode=Mode.SUBTRACT)


solid = part.part
